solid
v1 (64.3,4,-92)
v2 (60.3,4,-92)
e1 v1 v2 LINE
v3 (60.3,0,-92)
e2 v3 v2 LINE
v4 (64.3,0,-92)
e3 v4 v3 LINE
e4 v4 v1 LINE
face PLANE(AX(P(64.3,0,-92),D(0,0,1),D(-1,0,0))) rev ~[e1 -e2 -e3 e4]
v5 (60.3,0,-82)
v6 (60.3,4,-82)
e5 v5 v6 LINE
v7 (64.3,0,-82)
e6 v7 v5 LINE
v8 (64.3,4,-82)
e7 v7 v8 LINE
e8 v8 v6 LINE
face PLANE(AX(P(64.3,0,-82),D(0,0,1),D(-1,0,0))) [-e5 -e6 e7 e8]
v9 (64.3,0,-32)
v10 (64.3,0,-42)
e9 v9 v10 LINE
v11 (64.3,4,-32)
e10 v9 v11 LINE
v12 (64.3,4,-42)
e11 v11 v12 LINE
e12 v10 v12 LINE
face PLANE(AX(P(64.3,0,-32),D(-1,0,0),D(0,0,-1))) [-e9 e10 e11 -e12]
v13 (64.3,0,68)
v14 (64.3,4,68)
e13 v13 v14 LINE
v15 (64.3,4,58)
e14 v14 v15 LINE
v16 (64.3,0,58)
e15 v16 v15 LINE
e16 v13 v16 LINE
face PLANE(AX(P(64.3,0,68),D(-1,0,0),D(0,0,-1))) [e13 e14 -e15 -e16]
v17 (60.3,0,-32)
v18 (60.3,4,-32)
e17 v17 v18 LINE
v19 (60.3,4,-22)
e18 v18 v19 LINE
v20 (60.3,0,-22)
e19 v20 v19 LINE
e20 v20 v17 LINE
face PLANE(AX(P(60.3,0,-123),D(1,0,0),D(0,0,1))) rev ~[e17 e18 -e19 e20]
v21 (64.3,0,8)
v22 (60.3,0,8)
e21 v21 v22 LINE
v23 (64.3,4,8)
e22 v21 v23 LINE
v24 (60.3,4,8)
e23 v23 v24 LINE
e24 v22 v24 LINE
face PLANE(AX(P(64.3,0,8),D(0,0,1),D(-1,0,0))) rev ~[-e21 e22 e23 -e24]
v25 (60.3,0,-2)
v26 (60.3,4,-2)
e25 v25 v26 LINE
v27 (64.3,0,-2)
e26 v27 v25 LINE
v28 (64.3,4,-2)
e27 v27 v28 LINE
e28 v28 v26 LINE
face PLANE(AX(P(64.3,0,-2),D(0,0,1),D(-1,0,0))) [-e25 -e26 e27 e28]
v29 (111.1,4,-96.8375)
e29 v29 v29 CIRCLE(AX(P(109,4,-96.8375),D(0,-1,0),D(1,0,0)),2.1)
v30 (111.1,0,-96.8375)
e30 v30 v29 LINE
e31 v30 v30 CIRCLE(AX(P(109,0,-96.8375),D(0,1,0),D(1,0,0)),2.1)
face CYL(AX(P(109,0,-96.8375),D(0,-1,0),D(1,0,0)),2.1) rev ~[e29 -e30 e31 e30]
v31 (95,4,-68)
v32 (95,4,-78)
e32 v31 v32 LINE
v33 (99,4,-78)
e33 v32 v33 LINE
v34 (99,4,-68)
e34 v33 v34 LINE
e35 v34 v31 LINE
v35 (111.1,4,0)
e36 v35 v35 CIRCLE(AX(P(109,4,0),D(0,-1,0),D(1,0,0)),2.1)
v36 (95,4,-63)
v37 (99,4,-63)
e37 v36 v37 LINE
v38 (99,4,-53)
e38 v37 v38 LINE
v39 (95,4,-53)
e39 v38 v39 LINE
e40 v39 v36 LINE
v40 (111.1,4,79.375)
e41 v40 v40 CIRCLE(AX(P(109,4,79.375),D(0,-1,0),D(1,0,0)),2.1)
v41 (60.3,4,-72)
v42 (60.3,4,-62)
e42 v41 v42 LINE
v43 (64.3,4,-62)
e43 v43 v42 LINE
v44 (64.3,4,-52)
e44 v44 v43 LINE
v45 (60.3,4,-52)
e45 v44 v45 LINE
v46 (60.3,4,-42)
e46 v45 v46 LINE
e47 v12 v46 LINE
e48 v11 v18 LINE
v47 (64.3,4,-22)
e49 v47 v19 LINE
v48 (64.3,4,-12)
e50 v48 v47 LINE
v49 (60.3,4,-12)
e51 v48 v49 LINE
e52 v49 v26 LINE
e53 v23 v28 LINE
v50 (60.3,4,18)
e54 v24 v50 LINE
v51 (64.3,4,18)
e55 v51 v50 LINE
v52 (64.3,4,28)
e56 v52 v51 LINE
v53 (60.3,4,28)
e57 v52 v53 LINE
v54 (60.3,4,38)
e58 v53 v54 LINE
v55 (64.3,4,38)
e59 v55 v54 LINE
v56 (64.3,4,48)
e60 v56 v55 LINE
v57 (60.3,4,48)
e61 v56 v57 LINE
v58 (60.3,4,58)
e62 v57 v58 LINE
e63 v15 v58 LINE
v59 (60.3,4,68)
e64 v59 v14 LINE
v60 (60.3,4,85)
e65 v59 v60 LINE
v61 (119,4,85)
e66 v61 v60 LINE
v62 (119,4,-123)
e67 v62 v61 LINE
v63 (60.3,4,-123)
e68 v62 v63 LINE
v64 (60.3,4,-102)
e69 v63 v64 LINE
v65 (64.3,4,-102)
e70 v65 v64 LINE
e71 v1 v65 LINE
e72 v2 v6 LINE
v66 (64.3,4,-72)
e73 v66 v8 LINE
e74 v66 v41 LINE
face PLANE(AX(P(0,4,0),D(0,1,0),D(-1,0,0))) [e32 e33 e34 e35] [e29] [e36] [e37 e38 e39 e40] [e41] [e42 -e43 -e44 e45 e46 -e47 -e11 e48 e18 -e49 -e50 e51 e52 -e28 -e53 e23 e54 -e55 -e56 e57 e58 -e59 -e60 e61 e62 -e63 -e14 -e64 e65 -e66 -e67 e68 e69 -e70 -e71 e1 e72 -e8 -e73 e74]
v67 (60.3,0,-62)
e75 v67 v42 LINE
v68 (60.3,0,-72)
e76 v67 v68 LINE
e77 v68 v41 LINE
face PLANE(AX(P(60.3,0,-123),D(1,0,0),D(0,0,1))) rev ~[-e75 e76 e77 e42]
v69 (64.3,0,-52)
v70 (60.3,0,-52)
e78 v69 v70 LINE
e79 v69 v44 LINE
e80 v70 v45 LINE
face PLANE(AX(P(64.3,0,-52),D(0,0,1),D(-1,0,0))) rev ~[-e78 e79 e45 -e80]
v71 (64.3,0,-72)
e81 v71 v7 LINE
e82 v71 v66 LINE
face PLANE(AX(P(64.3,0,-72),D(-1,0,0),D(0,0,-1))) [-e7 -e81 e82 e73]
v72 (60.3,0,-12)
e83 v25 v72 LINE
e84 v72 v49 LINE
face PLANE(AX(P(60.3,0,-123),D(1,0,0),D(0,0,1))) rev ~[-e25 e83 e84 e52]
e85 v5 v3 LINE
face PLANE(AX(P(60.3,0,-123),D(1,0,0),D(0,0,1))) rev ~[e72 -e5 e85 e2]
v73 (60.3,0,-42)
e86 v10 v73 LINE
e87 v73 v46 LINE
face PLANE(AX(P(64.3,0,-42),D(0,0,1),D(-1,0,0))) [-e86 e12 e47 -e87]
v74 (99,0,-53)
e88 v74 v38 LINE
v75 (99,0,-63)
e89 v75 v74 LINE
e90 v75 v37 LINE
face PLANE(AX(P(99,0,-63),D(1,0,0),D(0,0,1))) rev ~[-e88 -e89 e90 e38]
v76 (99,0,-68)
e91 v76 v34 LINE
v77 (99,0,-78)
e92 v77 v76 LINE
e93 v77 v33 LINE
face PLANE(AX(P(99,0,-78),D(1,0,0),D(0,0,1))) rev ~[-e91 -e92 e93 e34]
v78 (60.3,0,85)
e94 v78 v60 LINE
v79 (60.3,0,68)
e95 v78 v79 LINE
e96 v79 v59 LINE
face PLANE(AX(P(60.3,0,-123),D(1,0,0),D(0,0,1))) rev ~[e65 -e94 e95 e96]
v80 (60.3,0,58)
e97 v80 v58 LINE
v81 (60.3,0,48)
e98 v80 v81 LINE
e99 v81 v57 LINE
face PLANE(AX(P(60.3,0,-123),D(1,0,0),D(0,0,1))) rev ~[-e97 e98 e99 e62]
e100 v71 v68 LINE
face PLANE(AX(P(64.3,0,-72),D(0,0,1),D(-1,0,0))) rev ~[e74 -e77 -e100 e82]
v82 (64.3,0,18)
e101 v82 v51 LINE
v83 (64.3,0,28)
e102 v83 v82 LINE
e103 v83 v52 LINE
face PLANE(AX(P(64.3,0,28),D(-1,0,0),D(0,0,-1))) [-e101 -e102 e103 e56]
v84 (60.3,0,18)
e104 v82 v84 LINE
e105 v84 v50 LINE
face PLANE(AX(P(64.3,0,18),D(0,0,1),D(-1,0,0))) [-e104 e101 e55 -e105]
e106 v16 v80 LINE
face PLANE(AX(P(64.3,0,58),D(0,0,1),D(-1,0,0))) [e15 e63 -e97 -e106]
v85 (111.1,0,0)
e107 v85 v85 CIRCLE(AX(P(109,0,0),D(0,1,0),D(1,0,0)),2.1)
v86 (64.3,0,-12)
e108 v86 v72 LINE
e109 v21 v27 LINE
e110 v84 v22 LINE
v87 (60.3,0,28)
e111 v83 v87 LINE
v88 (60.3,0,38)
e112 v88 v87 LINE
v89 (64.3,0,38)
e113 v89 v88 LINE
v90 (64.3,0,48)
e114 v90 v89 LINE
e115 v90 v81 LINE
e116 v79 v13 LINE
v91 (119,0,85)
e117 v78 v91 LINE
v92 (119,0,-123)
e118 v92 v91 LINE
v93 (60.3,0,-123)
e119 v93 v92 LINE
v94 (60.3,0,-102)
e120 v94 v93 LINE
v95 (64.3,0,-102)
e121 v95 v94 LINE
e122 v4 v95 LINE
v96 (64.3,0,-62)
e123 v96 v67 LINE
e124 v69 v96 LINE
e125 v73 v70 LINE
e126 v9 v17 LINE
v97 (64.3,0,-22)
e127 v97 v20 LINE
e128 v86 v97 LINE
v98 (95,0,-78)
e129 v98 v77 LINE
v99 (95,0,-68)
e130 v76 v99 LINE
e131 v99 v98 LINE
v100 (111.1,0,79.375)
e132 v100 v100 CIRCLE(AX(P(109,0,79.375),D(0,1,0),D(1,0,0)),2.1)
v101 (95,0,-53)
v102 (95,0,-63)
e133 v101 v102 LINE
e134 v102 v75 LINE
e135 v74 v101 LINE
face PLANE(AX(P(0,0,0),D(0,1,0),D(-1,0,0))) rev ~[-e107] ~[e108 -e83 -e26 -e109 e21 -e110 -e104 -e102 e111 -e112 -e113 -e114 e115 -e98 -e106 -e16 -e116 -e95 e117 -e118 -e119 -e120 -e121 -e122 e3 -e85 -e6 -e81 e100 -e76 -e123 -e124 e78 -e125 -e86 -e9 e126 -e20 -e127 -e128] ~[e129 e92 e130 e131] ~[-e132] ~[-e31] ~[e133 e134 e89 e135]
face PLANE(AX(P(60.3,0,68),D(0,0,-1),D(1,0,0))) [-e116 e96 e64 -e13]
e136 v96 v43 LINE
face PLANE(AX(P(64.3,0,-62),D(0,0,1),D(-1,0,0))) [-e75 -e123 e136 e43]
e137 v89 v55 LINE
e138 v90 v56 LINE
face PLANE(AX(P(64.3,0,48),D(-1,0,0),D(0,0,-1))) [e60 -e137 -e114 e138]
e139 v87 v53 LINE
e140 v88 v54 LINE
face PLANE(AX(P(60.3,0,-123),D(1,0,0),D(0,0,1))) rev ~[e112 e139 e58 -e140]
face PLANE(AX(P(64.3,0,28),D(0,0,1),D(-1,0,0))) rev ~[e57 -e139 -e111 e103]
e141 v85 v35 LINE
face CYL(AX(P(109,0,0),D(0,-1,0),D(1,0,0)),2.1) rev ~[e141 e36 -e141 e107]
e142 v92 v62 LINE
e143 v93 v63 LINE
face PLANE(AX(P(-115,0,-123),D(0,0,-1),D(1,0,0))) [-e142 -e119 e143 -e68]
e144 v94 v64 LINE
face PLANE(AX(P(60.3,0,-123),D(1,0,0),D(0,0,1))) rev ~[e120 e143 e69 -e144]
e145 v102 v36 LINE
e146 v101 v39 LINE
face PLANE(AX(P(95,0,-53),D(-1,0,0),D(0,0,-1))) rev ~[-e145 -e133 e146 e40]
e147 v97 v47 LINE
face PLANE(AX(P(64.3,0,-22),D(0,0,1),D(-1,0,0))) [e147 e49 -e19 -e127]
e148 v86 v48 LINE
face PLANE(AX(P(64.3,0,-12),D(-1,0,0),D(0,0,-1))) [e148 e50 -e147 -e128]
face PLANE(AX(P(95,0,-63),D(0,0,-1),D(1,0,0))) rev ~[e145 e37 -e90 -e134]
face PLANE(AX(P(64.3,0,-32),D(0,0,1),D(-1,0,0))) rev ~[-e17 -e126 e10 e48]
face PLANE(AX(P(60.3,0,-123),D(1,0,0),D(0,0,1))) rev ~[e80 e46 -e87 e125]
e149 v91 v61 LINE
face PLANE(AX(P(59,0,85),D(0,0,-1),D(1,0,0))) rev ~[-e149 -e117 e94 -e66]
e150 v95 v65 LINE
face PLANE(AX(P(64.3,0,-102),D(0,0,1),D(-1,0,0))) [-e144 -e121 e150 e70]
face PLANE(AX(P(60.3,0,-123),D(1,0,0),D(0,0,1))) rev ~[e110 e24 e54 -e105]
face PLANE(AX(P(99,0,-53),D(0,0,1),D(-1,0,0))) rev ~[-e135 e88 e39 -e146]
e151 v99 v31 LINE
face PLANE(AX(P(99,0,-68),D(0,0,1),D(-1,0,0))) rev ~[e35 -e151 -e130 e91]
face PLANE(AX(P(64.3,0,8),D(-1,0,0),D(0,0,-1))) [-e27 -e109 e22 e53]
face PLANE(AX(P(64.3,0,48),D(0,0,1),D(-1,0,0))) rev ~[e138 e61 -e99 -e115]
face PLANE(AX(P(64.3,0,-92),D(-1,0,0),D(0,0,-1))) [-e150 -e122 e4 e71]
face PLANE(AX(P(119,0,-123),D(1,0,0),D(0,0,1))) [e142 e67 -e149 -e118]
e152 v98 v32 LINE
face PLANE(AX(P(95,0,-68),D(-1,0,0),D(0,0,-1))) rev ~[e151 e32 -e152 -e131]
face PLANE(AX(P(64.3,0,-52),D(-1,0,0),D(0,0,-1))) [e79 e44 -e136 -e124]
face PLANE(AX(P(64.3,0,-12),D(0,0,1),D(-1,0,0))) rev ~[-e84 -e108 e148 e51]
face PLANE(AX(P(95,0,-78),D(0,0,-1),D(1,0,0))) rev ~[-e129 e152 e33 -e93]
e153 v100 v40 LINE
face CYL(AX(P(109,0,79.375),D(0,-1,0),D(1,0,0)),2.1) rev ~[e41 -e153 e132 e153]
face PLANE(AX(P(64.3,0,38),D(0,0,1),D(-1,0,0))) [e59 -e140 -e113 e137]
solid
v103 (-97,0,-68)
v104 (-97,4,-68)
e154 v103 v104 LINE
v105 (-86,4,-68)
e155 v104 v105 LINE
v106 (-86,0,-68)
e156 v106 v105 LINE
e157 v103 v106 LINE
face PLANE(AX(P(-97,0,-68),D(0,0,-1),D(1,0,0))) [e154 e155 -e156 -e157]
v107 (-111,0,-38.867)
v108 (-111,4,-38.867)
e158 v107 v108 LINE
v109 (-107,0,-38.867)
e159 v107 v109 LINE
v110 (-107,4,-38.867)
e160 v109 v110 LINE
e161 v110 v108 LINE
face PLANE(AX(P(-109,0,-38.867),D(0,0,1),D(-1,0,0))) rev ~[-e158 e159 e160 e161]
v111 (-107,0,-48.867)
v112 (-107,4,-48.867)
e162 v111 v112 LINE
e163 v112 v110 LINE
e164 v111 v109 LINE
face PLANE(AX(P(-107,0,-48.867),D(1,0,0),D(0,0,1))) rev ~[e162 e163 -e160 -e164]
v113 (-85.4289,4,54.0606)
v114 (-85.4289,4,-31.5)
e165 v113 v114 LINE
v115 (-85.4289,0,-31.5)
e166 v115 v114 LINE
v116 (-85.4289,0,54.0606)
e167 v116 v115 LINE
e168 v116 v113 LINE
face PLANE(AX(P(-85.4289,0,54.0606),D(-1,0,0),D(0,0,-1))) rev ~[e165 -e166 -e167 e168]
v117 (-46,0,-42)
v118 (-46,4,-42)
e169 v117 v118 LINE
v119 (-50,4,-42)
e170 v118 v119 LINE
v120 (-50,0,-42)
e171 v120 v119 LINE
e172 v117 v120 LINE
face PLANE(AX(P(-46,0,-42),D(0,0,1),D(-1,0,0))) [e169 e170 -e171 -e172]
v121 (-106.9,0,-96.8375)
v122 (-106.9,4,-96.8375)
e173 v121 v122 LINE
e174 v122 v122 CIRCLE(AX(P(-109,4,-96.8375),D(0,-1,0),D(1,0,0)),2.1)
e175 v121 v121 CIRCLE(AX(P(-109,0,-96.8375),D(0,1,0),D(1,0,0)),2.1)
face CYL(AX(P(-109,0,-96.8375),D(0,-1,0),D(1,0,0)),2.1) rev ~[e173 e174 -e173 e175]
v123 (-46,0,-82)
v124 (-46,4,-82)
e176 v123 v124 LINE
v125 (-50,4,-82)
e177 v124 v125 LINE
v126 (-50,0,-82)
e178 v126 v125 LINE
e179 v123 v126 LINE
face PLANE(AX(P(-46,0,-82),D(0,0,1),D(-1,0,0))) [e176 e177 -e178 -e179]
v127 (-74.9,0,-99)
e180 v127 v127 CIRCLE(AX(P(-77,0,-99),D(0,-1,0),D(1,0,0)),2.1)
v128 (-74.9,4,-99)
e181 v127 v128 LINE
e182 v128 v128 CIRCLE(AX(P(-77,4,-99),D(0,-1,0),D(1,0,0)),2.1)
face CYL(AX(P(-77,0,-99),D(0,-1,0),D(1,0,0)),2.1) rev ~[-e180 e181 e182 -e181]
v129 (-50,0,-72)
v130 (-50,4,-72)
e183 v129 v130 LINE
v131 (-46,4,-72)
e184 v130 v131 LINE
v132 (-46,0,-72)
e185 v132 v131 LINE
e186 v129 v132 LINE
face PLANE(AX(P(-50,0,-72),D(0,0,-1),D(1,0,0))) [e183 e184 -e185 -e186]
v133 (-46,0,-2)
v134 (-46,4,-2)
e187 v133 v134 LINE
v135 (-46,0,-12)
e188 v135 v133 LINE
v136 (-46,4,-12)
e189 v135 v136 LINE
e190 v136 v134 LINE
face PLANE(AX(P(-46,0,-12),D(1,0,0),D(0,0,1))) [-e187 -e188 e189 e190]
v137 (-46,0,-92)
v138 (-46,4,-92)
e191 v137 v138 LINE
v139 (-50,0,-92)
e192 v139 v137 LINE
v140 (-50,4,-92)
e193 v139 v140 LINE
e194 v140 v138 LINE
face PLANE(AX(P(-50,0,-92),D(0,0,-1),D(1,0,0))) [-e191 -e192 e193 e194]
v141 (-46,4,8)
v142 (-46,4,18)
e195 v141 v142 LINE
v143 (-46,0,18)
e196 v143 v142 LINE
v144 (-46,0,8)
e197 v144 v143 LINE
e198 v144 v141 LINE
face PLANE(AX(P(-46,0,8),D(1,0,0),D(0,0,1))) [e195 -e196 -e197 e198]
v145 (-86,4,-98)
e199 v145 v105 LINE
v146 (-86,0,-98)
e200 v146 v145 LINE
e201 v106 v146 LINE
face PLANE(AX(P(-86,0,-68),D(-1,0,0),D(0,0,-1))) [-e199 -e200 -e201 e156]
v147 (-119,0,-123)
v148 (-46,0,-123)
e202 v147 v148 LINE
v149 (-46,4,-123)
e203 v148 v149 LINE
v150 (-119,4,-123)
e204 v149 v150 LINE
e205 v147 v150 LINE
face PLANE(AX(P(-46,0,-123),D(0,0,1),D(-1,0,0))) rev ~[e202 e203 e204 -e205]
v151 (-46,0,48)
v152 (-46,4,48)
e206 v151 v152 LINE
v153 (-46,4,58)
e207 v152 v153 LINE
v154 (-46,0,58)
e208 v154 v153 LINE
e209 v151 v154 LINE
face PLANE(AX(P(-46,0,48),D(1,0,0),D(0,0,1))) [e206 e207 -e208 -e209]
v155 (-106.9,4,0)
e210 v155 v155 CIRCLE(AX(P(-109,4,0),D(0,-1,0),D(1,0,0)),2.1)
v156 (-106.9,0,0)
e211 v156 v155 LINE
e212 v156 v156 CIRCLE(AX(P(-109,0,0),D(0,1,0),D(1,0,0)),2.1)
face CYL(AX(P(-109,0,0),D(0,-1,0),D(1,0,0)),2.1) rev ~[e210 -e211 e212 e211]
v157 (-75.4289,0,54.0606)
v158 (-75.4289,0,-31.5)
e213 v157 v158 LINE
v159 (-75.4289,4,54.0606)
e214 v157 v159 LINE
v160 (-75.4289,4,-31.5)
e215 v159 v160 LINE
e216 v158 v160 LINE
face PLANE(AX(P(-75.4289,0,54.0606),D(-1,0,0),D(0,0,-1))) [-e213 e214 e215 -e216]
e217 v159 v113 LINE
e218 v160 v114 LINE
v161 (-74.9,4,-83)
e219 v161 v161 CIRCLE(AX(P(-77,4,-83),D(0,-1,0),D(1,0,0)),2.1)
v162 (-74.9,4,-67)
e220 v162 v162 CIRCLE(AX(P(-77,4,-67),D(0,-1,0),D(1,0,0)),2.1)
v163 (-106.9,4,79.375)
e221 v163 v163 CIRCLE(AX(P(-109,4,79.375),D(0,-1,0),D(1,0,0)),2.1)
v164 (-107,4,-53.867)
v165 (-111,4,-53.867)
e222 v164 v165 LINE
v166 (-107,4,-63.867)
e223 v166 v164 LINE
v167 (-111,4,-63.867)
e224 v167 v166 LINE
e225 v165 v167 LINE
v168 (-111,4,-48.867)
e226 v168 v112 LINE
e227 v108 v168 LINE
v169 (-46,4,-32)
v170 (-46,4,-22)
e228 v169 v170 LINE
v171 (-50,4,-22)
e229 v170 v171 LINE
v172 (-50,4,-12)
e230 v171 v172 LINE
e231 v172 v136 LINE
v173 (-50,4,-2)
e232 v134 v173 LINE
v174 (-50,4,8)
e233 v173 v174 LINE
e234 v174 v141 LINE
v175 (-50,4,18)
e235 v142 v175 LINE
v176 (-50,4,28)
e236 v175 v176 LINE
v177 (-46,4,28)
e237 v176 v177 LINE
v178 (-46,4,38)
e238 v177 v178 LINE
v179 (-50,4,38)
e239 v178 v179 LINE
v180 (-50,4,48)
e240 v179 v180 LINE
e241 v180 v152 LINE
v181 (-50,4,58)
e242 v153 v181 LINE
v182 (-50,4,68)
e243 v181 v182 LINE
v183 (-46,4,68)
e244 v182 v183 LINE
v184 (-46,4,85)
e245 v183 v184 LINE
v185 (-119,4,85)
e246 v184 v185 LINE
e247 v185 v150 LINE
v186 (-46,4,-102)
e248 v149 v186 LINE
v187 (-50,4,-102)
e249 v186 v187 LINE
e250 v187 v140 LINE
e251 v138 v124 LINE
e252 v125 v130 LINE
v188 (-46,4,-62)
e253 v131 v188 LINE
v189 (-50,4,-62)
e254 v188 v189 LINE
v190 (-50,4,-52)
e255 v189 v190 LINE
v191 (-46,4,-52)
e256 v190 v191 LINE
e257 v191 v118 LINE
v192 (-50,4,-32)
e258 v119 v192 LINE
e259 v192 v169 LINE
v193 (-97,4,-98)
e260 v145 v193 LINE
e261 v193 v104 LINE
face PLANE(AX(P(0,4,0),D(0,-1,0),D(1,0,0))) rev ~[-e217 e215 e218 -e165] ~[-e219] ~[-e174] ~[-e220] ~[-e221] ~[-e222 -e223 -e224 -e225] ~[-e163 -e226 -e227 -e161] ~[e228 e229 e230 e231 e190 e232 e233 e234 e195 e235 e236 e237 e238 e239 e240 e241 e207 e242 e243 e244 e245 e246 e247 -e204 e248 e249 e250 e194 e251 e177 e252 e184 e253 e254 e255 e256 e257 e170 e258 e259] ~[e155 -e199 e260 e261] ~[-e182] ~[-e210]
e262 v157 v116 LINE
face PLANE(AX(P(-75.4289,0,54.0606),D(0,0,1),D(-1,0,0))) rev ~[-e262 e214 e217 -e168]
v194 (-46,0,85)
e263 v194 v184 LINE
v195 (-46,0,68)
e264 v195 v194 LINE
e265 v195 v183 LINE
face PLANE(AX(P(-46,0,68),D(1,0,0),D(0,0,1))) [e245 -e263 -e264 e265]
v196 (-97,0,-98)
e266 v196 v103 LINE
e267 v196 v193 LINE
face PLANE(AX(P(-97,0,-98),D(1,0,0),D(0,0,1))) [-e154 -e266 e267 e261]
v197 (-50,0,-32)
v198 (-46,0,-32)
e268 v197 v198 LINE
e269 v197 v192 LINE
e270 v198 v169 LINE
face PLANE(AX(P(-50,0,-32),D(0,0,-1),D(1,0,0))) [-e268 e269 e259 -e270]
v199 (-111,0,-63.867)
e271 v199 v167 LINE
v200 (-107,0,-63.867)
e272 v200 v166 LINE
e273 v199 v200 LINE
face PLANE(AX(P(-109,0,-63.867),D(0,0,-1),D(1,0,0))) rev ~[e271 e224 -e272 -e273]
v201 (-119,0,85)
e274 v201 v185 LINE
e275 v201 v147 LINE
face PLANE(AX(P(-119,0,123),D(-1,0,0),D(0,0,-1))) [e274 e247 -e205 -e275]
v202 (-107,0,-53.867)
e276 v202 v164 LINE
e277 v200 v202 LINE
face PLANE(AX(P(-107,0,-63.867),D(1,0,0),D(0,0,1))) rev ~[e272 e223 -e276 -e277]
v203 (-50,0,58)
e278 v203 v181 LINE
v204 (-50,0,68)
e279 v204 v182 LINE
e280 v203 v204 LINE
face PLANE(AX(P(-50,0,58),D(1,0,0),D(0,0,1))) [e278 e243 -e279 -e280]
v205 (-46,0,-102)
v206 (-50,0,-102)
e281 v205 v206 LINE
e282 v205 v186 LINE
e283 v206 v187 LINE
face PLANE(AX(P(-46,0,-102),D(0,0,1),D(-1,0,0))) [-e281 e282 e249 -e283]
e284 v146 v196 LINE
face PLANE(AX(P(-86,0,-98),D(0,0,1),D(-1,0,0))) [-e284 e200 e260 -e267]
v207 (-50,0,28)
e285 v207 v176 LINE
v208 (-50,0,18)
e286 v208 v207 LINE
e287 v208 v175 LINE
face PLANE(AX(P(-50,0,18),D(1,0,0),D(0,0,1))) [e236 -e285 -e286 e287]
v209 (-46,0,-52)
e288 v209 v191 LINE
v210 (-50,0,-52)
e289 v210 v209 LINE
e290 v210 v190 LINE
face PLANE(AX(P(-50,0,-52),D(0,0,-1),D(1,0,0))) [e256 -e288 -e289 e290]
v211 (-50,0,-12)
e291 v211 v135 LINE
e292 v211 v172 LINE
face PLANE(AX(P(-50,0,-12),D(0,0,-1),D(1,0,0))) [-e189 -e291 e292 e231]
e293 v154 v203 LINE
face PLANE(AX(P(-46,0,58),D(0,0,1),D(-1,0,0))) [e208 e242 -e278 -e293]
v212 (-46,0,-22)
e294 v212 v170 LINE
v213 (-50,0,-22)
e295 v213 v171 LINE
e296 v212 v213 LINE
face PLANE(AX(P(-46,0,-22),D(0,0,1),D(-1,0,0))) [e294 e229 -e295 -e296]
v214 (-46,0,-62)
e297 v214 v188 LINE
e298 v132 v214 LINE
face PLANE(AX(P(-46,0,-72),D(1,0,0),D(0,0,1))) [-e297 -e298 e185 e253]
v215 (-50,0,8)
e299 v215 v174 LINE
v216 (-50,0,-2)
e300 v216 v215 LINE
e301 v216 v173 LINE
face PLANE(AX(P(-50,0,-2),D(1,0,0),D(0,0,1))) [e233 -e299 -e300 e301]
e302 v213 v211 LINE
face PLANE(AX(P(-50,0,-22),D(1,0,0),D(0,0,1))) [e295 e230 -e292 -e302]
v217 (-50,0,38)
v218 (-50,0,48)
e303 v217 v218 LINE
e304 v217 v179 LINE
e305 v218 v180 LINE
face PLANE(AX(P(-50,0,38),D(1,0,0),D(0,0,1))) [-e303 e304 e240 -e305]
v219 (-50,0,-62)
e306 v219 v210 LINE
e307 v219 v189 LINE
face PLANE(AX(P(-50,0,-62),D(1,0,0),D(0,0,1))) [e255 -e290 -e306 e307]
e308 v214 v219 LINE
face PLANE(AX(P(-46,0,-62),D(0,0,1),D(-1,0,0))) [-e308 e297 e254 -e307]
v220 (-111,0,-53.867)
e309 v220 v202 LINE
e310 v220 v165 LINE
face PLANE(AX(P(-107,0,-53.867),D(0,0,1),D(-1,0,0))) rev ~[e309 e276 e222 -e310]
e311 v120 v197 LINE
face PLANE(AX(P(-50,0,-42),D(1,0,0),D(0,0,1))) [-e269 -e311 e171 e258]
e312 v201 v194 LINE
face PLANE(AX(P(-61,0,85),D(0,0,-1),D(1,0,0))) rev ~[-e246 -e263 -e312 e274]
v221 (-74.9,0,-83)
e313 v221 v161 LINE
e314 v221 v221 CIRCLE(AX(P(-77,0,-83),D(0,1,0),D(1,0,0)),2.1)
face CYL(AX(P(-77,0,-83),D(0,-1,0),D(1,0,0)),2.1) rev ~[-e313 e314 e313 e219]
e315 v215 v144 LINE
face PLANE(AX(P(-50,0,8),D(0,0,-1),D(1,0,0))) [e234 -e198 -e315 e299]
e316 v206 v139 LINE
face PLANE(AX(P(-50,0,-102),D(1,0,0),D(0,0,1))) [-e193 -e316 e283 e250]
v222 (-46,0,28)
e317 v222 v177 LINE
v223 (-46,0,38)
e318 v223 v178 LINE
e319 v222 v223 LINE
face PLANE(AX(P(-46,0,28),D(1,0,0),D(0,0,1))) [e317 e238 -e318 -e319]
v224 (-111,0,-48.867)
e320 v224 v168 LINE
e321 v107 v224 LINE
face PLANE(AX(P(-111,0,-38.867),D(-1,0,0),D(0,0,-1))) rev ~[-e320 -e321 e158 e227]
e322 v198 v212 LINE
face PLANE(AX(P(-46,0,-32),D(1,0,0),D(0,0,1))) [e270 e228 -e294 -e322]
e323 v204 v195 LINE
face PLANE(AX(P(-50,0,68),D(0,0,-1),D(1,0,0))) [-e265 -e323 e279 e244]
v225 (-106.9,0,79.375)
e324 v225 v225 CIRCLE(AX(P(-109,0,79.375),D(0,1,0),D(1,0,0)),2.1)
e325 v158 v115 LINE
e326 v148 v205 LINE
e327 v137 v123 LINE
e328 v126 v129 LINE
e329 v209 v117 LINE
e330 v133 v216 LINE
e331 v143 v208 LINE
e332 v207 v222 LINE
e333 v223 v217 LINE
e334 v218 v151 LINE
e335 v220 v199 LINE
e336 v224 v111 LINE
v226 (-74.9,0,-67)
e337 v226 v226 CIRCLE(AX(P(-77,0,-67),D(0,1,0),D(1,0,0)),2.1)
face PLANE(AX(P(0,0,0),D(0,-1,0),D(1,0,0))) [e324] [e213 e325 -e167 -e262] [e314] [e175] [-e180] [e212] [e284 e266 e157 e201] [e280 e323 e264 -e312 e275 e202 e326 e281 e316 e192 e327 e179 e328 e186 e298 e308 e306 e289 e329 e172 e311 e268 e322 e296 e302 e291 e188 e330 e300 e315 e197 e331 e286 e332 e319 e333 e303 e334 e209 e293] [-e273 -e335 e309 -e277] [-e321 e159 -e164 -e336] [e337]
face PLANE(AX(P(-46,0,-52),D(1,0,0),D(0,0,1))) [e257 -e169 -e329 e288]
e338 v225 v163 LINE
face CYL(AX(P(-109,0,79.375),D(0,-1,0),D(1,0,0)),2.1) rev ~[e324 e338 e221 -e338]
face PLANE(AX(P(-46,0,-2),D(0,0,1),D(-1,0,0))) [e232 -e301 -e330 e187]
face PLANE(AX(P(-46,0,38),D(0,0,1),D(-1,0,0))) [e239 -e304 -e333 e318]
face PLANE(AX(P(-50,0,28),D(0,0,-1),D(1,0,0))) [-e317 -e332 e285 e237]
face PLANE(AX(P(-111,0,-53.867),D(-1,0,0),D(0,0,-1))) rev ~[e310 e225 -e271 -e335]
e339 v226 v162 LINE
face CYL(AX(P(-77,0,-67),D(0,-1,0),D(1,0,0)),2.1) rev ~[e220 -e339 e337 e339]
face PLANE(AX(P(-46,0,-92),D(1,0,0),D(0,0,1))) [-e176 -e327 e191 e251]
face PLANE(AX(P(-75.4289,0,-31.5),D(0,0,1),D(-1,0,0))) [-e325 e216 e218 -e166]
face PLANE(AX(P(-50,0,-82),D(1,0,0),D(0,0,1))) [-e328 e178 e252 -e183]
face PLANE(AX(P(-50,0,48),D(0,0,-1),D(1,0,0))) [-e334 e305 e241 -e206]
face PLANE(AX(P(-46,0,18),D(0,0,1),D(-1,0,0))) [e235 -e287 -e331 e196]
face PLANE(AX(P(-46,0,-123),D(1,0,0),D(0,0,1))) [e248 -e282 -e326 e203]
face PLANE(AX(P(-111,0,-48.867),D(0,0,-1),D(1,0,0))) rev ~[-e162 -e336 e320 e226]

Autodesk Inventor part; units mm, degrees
ref_plane "YZ Plane" through (0, 0, 0) normal (1, 0, 0) x (0, 1, 0)
ref_plane "XZ Plane" through (0, 0, 0) normal (0, 1, 0) x (-1, 0, 0)
ref_plane "XY Plane" through (0, 0, 0) normal (0, 0, 1) x (1, 0, 0)
sketch "Эскиз1" plane through (0, 0, 0) normal (0, 1, 0) x (-1, 0, 0)
  line L0 (-115, 123) -> (115, 123)
  line L1 (115, 123) -> (115, -123)
  line L2 (115, -123) -> (-115, -123)
  line L3 (-115, -123) -> (-115, 123)
  line L4 (-115, 123) -> (115, -123) construction
  line L5 (115, 123) -> (-115, -123) construction
  point P0 (0, 0)
  dimension "d0" = 230
  dimension "d1" = 246
extrude "Выдавливание1" add sketch "Эскиз1" along normal blind 4
sketch "Эскиз2" plane through (0, 0, 0) normal (0, -1, 0) x (1, 0, 0)
  line L0 (-65.9289, -30.8784) -> (-65.9289, 53.4389) projected
  line L1 (65.9289, -33.6328) -> (65.9289, 50.6846) projected
  line L2 (115, -123) -> (-115, -123) projected
  line L3 (-115, 123) -> (115, 123) projected
  line L4 (-115, -123) -> (-61, -123)
  line L5 (-61, -123) -> (-61, 123)
  line L6 (-61, 123) -> (-115, 123)
  line L7 (-115, 123) -> (-115, -123)
  line L8 (114.3, -123) -> (60.3, -123)
  line L9 (60.3, -123) -> (60.3, 123)
  line L10 (60.3, 123) -> (114.3, 123)
  line L11 (114.3, 123) -> (114.3, -123)
  line L12 (21.8052, 115.9865) -> (21.8052, 75.1678) projected
  line L13 (60.3, 123) -> (-61.2, 123)
  line L14 (-61.2, 123) -> (-61.2, 68)
  line L15 (-61.2, 68) -> (60.3, 68)
  line L16 (60.3, 68) -> (60.3, 123)
  line L17 (115, -123) -> (-115, -123) projected
  line L18 (115, 123) -> (115, -123) projected
  line L19 (-115, 123) -> (115, 123) projected
  line L20 (-115, -123) -> (-115, 123) projected
  point P0 (0, 0)
  point P1 (-61, 68)
  point P2 (60.3, -123)
  dimension "d4" = 54
  dimension "d5" = 54
  dimension "d7" = 55
  dimension "d90" = 121.5
extrude "Выдавливание2" cut sketch "Эскиз2" against normal blind 4 contours L2 L5 L15 L9 | L15 L5 L3 L9
sketch "Эскиз3" plane through (0, 0, 0) normal (0, -1, 0) x (1, 0, 0)
  point P0 (0, 0)
sketch "Эскиз4" plane through (0, 0, 0) normal (0, -1, 0) x (1, 0, 0)
  point P0 (0, 0)
sketch "Эскиз5" plane through (0, 0, 0) normal (0, -1, 0) x (1, 0, 0)
  line L0 (-61, 123) -> (-61, -123) projected
  line L1 (-61, 68) -> (-65, 68)
  line L2 (-65, 68) -> (-65, 58)
  line L3 (-65, 58) -> (-61, 58)
  line L4 (-61, 58) -> (-61, 68)
  line L5 (-61, 78) -> (-65, 78)
  line L6 (-65, 78) -> (-65, 68)
  line L7 (-65, 68) -> (-61, 68)
  line L8 (-61, 68) -> (-61, 78)
  line L9 (-61, 68) -> (-65, 68)
  line L10 (-65, 68) -> (-65, 58)
  line L11 (-65, 58) -> (-61, 58)
  line L12 (-61, 58) -> (-61, 68)
  line L13 (-61, 58) -> (-65, 58)
  line L14 (-65, 58) -> (-65, 48)
  line L15 (-65, 48) -> (-61, 48)
  line L16 (-61, 48) -> (-61, 58)
  line L17 (-61, 48) -> (-65, 48)
  line L18 (-65, 48) -> (-65, 38)
  line L19 (-65, 38) -> (-61, 38)
  line L20 (-61, 38) -> (-61, 48)
  line L21 (-61, 38) -> (-65, 38)
  line L22 (-65, 38) -> (-65, 28)
  line L23 (-65, 28) -> (-61, 28)
  line L24 (-61, 28) -> (-61, 38)
  line L25 (-61, 28) -> (-65, 28)
  line L26 (-65, 28) -> (-65, 18)
  line L27 (-65, 18) -> (-61, 18)
  line L28 (-61, 18) -> (-61, 28)
  line L29 (-61, 18) -> (-65, 18)
  line L30 (-65, 18) -> (-65, 8)
  line L31 (-65, 8) -> (-61, 8)
  line L32 (-61, 8) -> (-61, 18)
  line L33 (-61, 8) -> (-65, 8)
  line L34 (-65, 8) -> (-65, -2)
  line L35 (-65, -2) -> (-61, -2)
  line L36 (-61, -2) -> (-61, 8)
  line L37 (-61, -2) -> (-65, -2)
  line L38 (-65, -2) -> (-65, -12)
  line L39 (-65, -12) -> (-61, -12)
  line L40 (-61, -12) -> (-61, -2)
  line L41 (-61, -12) -> (-65, -12)
  line L42 (-65, -12) -> (-65, -22)
  line L43 (-65, -22) -> (-61, -22)
  line L44 (-61, -22) -> (-61, -12)
  line L45 (-61, -22) -> (-65, -22)
  line L46 (-65, -22) -> (-65, -32)
  line L47 (-65, -32) -> (-61, -32)
  line L48 (-61, -32) -> (-61, -22)
  line L49 (-61, -32) -> (-65, -32)
  line L50 (-65, -32) -> (-65, -42)
  line L51 (-65, -42) -> (-61, -42)
  line L52 (-61, -42) -> (-61, -32)
  line L53 (-61, -42) -> (-65, -42)
  line L54 (-65, -42) -> (-65, -52)
  line L55 (-65, -52) -> (-61, -52)
  line L56 (-61, -52) -> (-61, -42)
  line L57 (-61, -52) -> (-65, -52)
  line L58 (-65, -52) -> (-65, -62)
  line L59 (-65, -62) -> (-61, -62)
  line L60 (-61, -62) -> (-61, -52)
  line L61 (-61, -62) -> (-65, -62)
  line L62 (-65, -62) -> (-65, -72)
  line L63 (-65, -72) -> (-61, -72)
  line L64 (-61, -72) -> (-61, -62)
  line L65 (-61, -72) -> (-65, -72)
  line L66 (-65, -72) -> (-65, -82)
  line L67 (-65, -82) -> (-61, -82)
  line L68 (-61, -82) -> (-61, -72)
  line L69 (-61, -82) -> (-65, -82)
  line L70 (-65, -82) -> (-65, -92)
  line L71 (-65, -92) -> (-61, -92)
  line L72 (-61, -92) -> (-61, -82)
  line L73 (-61, -92) -> (-65, -92)
  line L74 (-65, -92) -> (-65, -102)
  line L75 (-65, -102) -> (-61, -102)
  line L76 (-61, -102) -> (-61, -92)
  line L77 (-61, -102) -> (-65, -102)
  line L78 (-65, -102) -> (-65, -112)
  line L79 (-61, -112) -> (-61, -102)
  line L80 (-0.35, 88) -> (-0.35, -60.325)
  line L81 (60.3, 68) -> (60.3, -123)
  line L82 (60.3, 68) -> (64.3, 68)
  line L83 (64.3, 68) -> (64.3, 58)
  line L84 (64.3, 58) -> (60.3, 58)
  line L85 (60.3, 58) -> (60.3, 68)
  line L86 (64.3, 68) -> (60.3, 68)
  line L87 (64.3, 78) -> (64.3, 68)
  line L88 (60.3, 78) -> (64.3, 78)
  line L89 (60.3, 68) -> (60.3, 78)
  line L90 (64.3, 58) -> (60.3, 58)
  line L91 (64.3, 68) -> (64.3, 58)
  line L92 (60.3, 68) -> (64.3, 68)
  line L93 (60.3, 58) -> (60.3, 68)
  line L94 (64.3, 48) -> (60.3, 48)
  line L95 (64.3, 58) -> (64.3, 48)
  line L96 (60.3, 58) -> (64.3, 58)
  line L97 (60.3, 48) -> (60.3, 58)
  line L98 (64.3, 38) -> (60.3, 38)
  line L99 (64.3, 48) -> (64.3, 38)
  line L100 (60.3, 48) -> (64.3, 48)
  line L101 (60.3, 38) -> (60.3, 48)
  line L102 (64.3, 28) -> (60.3, 28)
  line L103 (64.3, 38) -> (64.3, 28)
  line L104 (60.3, 38) -> (64.3, 38)
  line L105 (60.3, 28) -> (60.3, 38)
  line L106 (64.3, 18) -> (60.3, 18)
  line L107 (64.3, 28) -> (64.3, 18)
  line L108 (60.3, 28) -> (64.3, 28)
  line L109 (60.3, 18) -> (60.3, 28)
  line L110 (64.3, 8) -> (60.3, 8)
  line L111 (64.3, 18) -> (64.3, 8)
  line L112 (60.3, 18) -> (64.3, 18)
  line L113 (60.3, 8) -> (60.3, 18)
  line L114 (64.3, -2) -> (60.3, -2)
  line L115 (64.3, 8) -> (64.3, -2)
  line L116 (60.3, 8) -> (64.3, 8)
  line L117 (60.3, -2) -> (60.3, 8)
  line L118 (64.3, -12) -> (60.3, -12)
  line L119 (64.3, -2) -> (64.3, -12)
  line L120 (60.3, -2) -> (64.3, -2)
  line L121 (60.3, -12) -> (60.3, -2)
  line L122 (64.3, -22) -> (60.3, -22)
  line L123 (64.3, -12) -> (64.3, -22)
  line L124 (60.3, -12) -> (64.3, -12)
  line L125 (60.3, -22) -> (60.3, -12)
  line L126 (64.3, -32) -> (60.3, -32)
  line L127 (64.3, -22) -> (64.3, -32)
  line L128 (60.3, -22) -> (64.3, -22)
  line L129 (60.3, -32) -> (60.3, -22)
  line L130 (64.3, -42) -> (60.3, -42)
  line L131 (64.3, -32) -> (64.3, -42)
  line L132 (60.3, -32) -> (64.3, -32)
  line L133 (60.3, -42) -> (60.3, -32)
  line L134 (64.3, -52) -> (60.3, -52)
  line L135 (64.3, -42) -> (64.3, -52)
  line L136 (60.3, -42) -> (64.3, -42)
  line L137 (60.3, -52) -> (60.3, -42)
  line L138 (64.3, -62) -> (60.3, -62)
  line L139 (64.3, -52) -> (64.3, -62)
  line L140 (60.3, -52) -> (64.3, -52)
  line L141 (60.3, -62) -> (60.3, -52)
  line L142 (64.3, -72) -> (60.3, -72)
  line L143 (64.3, -62) -> (64.3, -72)
  line L144 (60.3, -62) -> (64.3, -62)
  line L145 (60.3, -72) -> (60.3, -62)
  line L146 (64.3, -82) -> (60.3, -82)
  line L147 (64.3, -72) -> (64.3, -82)
  line L148 (60.3, -72) -> (64.3, -72)
  line L149 (60.3, -82) -> (60.3, -72)
  line L150 (64.3, -92) -> (60.3, -92)
  line L151 (64.3, -82) -> (64.3, -92)
  line L152 (60.3, -82) -> (64.3, -82)
  line L153 (60.3, -92) -> (60.3, -82)
  line L154 (64.3, -102) -> (60.3, -102)
  line L155 (64.3, -92) -> (64.3, -102)
  line L156 (60.3, -92) -> (64.3, -92)
  line L157 (60.3, -102) -> (60.3, -92)
  line L158 (64.3, -102) -> (64.3, -112)
  line L159 (60.3, -102) -> (64.3, -102)
  line L160 (60.3, -112) -> (60.3, -102)
  point P0 (0, 0)
  point P1 (-61, -102)
  point P2 (-61, -92)
  point P3 (-61, -82)
  point P4 (-61, -72)
  point P5 (-61, -62)
  point P6 (-61, -52)
  point P7 (-61, -42)
  point P8 (-61, -32)
  point P9 (-61, -22)
  point P10 (-61, -12)
  point P11 (-61, -2)
  point P12 (-61, 8)
  point P13 (-61, 18)
  point P14 (-61, 28)
  point P15 (-61, 38)
  point P16 (-61, 48)
  point P17 (60.3, -92)
  point P18 (60.3, -102)
  point P19 (60.3, -72)
  point P20 (60.3, -82)
  point P21 (60.3, -52)
  point P22 (60.3, -62)
  point P23 (60.3, -32)
  point P24 (60.3, -42)
  point P25 (-61, -12)
  point P26 (-61, 8)
  dimension "d10" = 4
  dimension "d11" = 10
  dimension "d12" = 4
  dimension "d13" = 10
  dimension "d14" = 4
  dimension "d15" = 10
  dimension "d16" = 4
  dimension "d17" = 10
  dimension "d18" = 4
  dimension "d19" = 10
  dimension "d20" = 4
  dimension "d21" = 10
  dimension "d22" = 4
  dimension "d23" = 10
  dimension "d24" = 4
  dimension "d25" = 10
  dimension "d26" = 4
  dimension "d27" = 10
  dimension "d28" = 4
  dimension "d29" = 10
  dimension "d30" = 4
  dimension "d31" = 10
  dimension "d32" = 4
  dimension "d33" = 10
  dimension "d34" = 4
  dimension "d35" = 10
  dimension "d36" = 4
  dimension "d37" = 10
  dimension "d38" = 4
  dimension "d39" = 10
  dimension "d40" = 4
  dimension "d41" = 10
  dimension "d42" = 4
  dimension "d43" = 10
  dimension "d44" = 4
  dimension "d45" = 10
  dimension "d46" = 4
  dimension "d47" = 10
  dimension "d49" = 10
extrude "Выдавливание3" cut sketch "Эскиз5" against normal blind 4 contours L0 L3 L2 L1 | L0 L19 L18 L15 | L0 L27 L26 L23 | L0 L35 L34 L31 | L0 L43 L42 L39 | L0 L51 L50 L47 | L0 L59 L58 L55 | L0 L67 L66 L63 | L0 L75 L74 L71 | L82 L83 L84 L81 | L94 L99 L98 L81 | L102 L107 L106 L81 | L110 L115 L114 L81 | L118 L123 L122 L81 | L126 L131 L130 L81 | L134 L139 L138 L81 | L142 L147 L146 L81 | L150 L155 L154 L81
sketch "Эскиз6" plane through (0, 0, 0) normal (0, -1, 0) x (1, 0, 0)
  line L0 (-115, -123) -> (-115, 123) projected
  line L1 (-115, 123) -> (-109, 123)
  line L2 (-115, 123) -> (115, 123) projected
  line L3 (-109, 123) -> (-109, -139.0315)
  circle A0 centre (-109, 79.375) radius 2.1
  circle A1 centre (-109, 0) radius 2.1
  circle A2 centre (-109, -96.8375) radius 2.1
  line L4 (0, 123) -> (0, -68.2625)
  circle A3 centre (109, 79.375) radius 2.1
  circle A4 centre (109, 0) radius 2.1
  circle A5 centre (109, -96.8375) radius 2.1
  line L5 (109, 123) -> (109, -139.0315)
  point P0 (0, 0)
  point P1 (-115, 0)
  dimension "d79" = 6
  dimension "d80" = 4.2
  dimension "d81" = 4.2
  dimension "d82" = 4.2
  dimension "d89" = 12
extrude "Выдавливание4" cut sketch "Эскиз6" against normal blind 4.2
sketch "Эскиз7" plane through (0, 0, 0) normal (0, -1, 0) x (1, 0, 0)
  line L0 (-115, 123) -> (-119, 123)
  line L1 (-119, 123) -> (-119, -123)
  line L2 (-119, -123) -> (-115, -123)
  line L3 (-115, -123) -> (-115, 123)
  line L4 (115, 123) -> (115, -123) projected
  line L5 (115, -123) -> (119, -123)
  line L6 (119, -123) -> (119, 123)
  line L7 (119, 123) -> (115, 123)
  line L8 (115, 123) -> (115, -123)
  point P0 (0, 0)
  dimension "d85" = 4
  dimension "d86" = 4
extrude "Выдавливание5" add sketch "Эскиз7" against normal up to surface (4 mm away)
sketch "Эскиз8" plane through (0, 0, 0) normal (0, -1, 0) x (1, 0, 0)
  point P0 (0, 0)
sketch "Эскиз9" plane through (0, 0, 0) normal (0, -1, 0) x (1, 0, 0)
  line L0 (119, 123) -> (-119, 123) projected
  line L1 (-119, 123) -> (-61, 123)
  line L2 (-61, 123) -> (-61, 85)
  line L3 (-61, 85) -> (-119, 85)
  line L4 (-119, 85) -> (-119, 123)
  line L5 (119, 123) -> (59, 123)
  line L6 (59, 123) -> (59, 85)
  line L7 (59, 85) -> (119, 85)
  line L8 (119, 85) -> (119, 123)
  point P0 (0, 0)
  point P1 (-81.9049, 71.7303)
  point P2 (-61, 123)
  dimension "d92" = 58
  dimension "d93" = 38
  dimension "d94" = 60
  dimension "d95" = 38
extrude "Выдавливание6" cut sketch "Эскиз9" against normal blind 10
sketch "Эскиз12" plane through (0, 0, 0) normal (0, -1, 0) x (1, 0, 0)
  line L0 (119, -123) -> (119, 85) projected
  line L1 (119, -123) -> (119, -53)
  line L2 (119, -53) -> (99, -53)
  line L3 (99, -53) -> (95, -53)
  line L4 (95, -53) -> (95, -63)
  line L5 (95, -63) -> (99, -63)
  line L6 (99, -63) -> (99, -53)
  line L7 (95, -63) -> (95, -68)
  line L8 (95, -68) -> (95, -78)
  line L9 (95, -78) -> (99, -78)
  line L10 (99, -78) -> (99, -68)
  line L11 (99, -68) -> (95, -68)
  point P0 (0, 0)
  dimension "d102" = 70
  dimension "d103" = 20
  dimension "d104" = 4
  dimension "d105" = 10
  dimension "d106" = 5
  dimension "d107" = 10
extrude "Выдавливание9" cut sketch "Эскиз12" against normal blind 4
sketch "Эскиз13" plane through (0, 0, 0) normal (0, -1, 0) x (1, 0, 0)
  line L0 (-119, -123) -> (-97, -123)
  line L1 (-61, -123) -> (-119, -123) projected
  line L2 (-97, -123) -> (-97, -68)
  line L3 (-97, -68) -> (-86, -68)
  line L4 (-86, -68) -> (-86, -98)
  line L5 (-86, -98) -> (-97, -98)
  line L6 (-97, -98) -> (-97, -68)
  line L7 (-86, -83) -> (-77, -83)
  circle A0 centre (-77, -83) radius 2.1
  line L8 (-77, -83) -> (-77, -67)
  circle A1 centre (-77, -67) radius 2.1
  circle A2 centre (-77, -99) radius 2.1
  point P0 (0, 0)
  dimension "d110" = 22
  dimension "d111" = 55
  dimension "d112" = 11
  dimension "d113" = 30
  dimension "d114" = 9
  dimension "d115" = 4.2
  dimension "d116" = 16
  dimension "d117" = 4.2
extrude "Выдавливание10" cut sketch "Эскиз13" against normal blind 4
sketch "Эскиз14" plane through (0, 0, 0) normal (0, -1, 0) x (1, 0, 0)
  circle A0 centre (-77, -83) radius 2.1 projected
  circle A1 centre (-77, -67) radius 2.1 projected
  circle A2 centre (-77, -99) radius 2.1 projected
  line L0 (-86, -98) -> (-97, -98) projected
  line L1 (-97, -98) -> (-97, -68) projected
  line L2 (-97, -68) -> (-86, -68) projected
  line L3 (-86, -68) -> (-86, -98) projected
  line L4 (-61, 85) -> (-119, 85) projected
  line L5 (-119, 85) -> (-119, -123) projected
  line L6 (-61, -123) -> (-119, -123) projected
  line L7 (-61, -123) -> (-61, -102) projected
  line L8 (-61, -102) -> (-65, -102) projected
  line L9 (-65, -102) -> (-65, -92) projected
  line L10 (-65, -92) -> (-61, -92) projected
  line L11 (-61, -92) -> (-61, -82) projected
  line L12 (-61, -82) -> (-65, -82) projected
  line L13 (-65, -82) -> (-65, -72) projected
  line L14 (-65, -72) -> (-61, -72) projected
  line L15 (-61, -72) -> (-61, -62) projected
  line L16 (-61, -62) -> (-65, -62) projected
  line L17 (-65, -62) -> (-65, -52) projected
  line L18 (-65, -52) -> (-61, -52) projected
  line L19 (-61, -52) -> (-61, -42) projected
  line L20 (-61, -42) -> (-65, -42) projected
  line L21 (-65, -42) -> (-65, -32) projected
  line L22 (-65, -32) -> (-61, -32) projected
  line L23 (-61, -32) -> (-61, -22) projected
  line L24 (-61, -22) -> (-65, -22) projected
  line L25 (-65, -22) -> (-65, -12) projected
  line L26 (-65, -12) -> (-61, -12) projected
  line L27 (-61, -12) -> (-61, -2) projected
  line L28 (-61, -2) -> (-65, -2) projected
  line L29 (-65, -2) -> (-65, 8) projected
  line L30 (-65, 8) -> (-61, 8) projected
  line L31 (-61, 8) -> (-61, 18) projected
  line L32 (-61, 18) -> (-65, 18) projected
  line L33 (-65, 18) -> (-65, 28) projected
  line L34 (-65, 28) -> (-61, 28) projected
  line L35 (-61, 28) -> (-61, 38) projected
  line L36 (-61, 38) -> (-65, 38) projected
  line L37 (-65, 38) -> (-65, 48) projected
  line L38 (-65, 48) -> (-61, 48) projected
  line L39 (-61, 48) -> (-61, 58) projected
  line L40 (-61, 58) -> (-65, 58) projected
  line L41 (-65, 58) -> (-65, 68) projected
  line L42 (-65, 68) -> (-61, 68) projected
  line L43 (-61, 68) -> (-61, 85) projected
  circle A3 centre (-109, 0) radius 2.1 projected
  circle A4 centre (-109, -96.8375) radius 2.1 projected
  circle A5 centre (-109, 79.375) radius 2.1 projected
  line L44 (-61, 85) -> (-46, 85)
  line L45 (-41, -123) -> (-61, -123)
  line L46 (-46, -123) -> (-46, -102)
  line L47 (-46, -102) -> (-50, -102)
  line L48 (-50, -102) -> (-50, -92)
  line L49 (-50, -92) -> (-46, -92)
  line L50 (-46, -92) -> (-46, -82)
  line L51 (-46, -82) -> (-50, -82)
  line L52 (-50, -82) -> (-50, -72)
  line L53 (-50, -72) -> (-46, -72)
  line L54 (-46, -72) -> (-46, -62)
  line L55 (-46, -62) -> (-50, -62)
  line L56 (-50, -62) -> (-50, -52)
  line L57 (-50, -52) -> (-46, -52)
  line L58 (-46, -52) -> (-46, -42)
  line L59 (-46, -42) -> (-50, -42)
  line L60 (-50, -42) -> (-50, -32)
  line L61 (-50, -32) -> (-46, -32)
  line L62 (-46, -32) -> (-46, -22)
  line L63 (-46, -22) -> (-50, -22)
  line L64 (-50, -22) -> (-50, -12)
  line L65 (-50, -12) -> (-46, -12)
  line L66 (-46, -12) -> (-46, -2)
  line L67 (-46, -2) -> (-50, -2)
  line L68 (-50, -2) -> (-50, 8)
  line L69 (-50, 8) -> (-46, 8)
  line L70 (-46, 8) -> (-46, 18)
  line L71 (-46, 18) -> (-50, 18)
  line L72 (-50, 18) -> (-50, 28)
  line L73 (-50, 28) -> (-46, 28)
  line L74 (-46, 28) -> (-46, 38)
  line L75 (-46, 38) -> (-50, 38)
  line L76 (-50, 38) -> (-50, 48)
  line L77 (-50, 48) -> (-46, 48)
  line L78 (-46, 48) -> (-46, 58)
  line L79 (-46, 58) -> (-50, 58)
  line L80 (-50, 58) -> (-50, 68)
  line L81 (-50, 68) -> (-46, 68)
  line L82 (-46, 68) -> (-46, 85)
  point P0 (0, 0)
  point P1 (-46, -123)
  dimension "d120" = 15
extrude "Выдавливание11" add sketch "Эскиз14" against normal up to surface (4 mm away) contours L44 L82 L81 L80 L79 L78 L77 L76 L75 L74 L73 L72 L71 L70 L69 L68 L67 L66 L65 L64 L63 L62 L61 L60 L59 L58 L57 L56 L55 L54 L53 L52 L51 L50 L49 L48 L47 L46 L45 L7 L8 L9 L10 L11 L12 L13 L14 L15 L16 L17 L18 L19 L20 L21 L22 L23 L24 L25 L26 L27 L28 L29 L30 L31 L32 L33 L34 L35 L36 L37 L38 L39 L40 L41 L42 L43
sketch "Эскиз15" plane through (0, 0, 0) normal (0, -1, 0) x (1, 0, 0)
  line L0 (99, -53) -> (99, -63) projected
  line L1 (99, -63) -> (95, -63) projected
  line L2 (95, -63) -> (95, -53) projected
  line L3 (95, -53) -> (99, -53) projected
  line L4 (95, -68) -> (99, -68) projected
  line L5 (95, -78) -> (95, -68) projected
  line L6 (99, -78) -> (95, -78) projected
  line L7 (99, -68) -> (99, -78) projected
  line L8 (-46, 85) -> (-119, 85) projected
  line L9 (60.3, 85) -> (119, 85) projected
  line L10 (-119, 85) -> (119, 85)
  line L11 (0, 85) -> (0, -44.45)
  line L12 (-111, -38.867) -> (-111, -48.867)
  line L13 (-111, -48.867) -> (-107, -48.867)
  line L14 (-107, -48.867) -> (-107, -38.867)
  line L15 (-107, -38.867) -> (-111, -38.867)
  line L16 (-107, -53.867) -> (-111, -53.867)
  line L17 (-107, -63.867) -> (-107, -53.867)
  line L18 (-111, -63.867) -> (-107, -63.867)
  line L19 (-111, -53.867) -> (-111, -63.867)
  circle A0 centre (-109, 0) radius 2.1 projected
  circle A1 centre (-109, -96.8375) radius 2.1 projected
  line L20 (-109, 0) -> (-109, -96.8375)
  point P0 (0, 0)
  point P1 (-97, -53)
  point P2 (-109, -38.867)
extrude "Выдавливание12" cut sketch "Эскиз15" against normal blind 10 contours L15 L20 L13 L12 | L16 L17 L18 L20 | L20 L18 L19 L16 | L15 L14 L13 L20
sketch "Эскиз16" plane through (0, 0, 0) normal (0, -1, 0) x (1, 0, 0)
  point P0 (0, 0)
sketch "Эскиз17" plane through (0, 0, 0) normal (0, -1, 0) x (1, 0, 0)
  line L0 (-95.4289, 81.7789) -> (-95.4289, -55.2183) projected
  line L1 (-67.7888, -31.5) -> (-67.7888, 54.0606) projected
  line L2 (-67.7888, 54.0606) -> (-95.4289, 54.0606)
  line L3 (-67.7888, -31.5) -> (-95.4289, -31.5)
  line L4 (-95.4289, 54.0606) -> (-85.4289, 54.0606)
  line L5 (-85.4289, 54.0606) -> (-75.4289, 54.0606)
  line L6 (-85.4289, 54.0606) -> (-85.4289, -34.925)
  line L7 (-75.4289, 54.0606) -> (-75.4289, -34.925)
  point P0 (0, 0)
  point P1 (-85.4289, -31.5)
  point P2 (-75.4289, -31.5)
  dimension "d127" = 10
  dimension "d128" = 10
extrude "Выдавливание13" cut sketch "Эскиз17" against normal blind 10 contours L2 L7 L3 L6
equation "\"d52\" = d16"
properties part number "стульчак" material "Древесина (орех)"
